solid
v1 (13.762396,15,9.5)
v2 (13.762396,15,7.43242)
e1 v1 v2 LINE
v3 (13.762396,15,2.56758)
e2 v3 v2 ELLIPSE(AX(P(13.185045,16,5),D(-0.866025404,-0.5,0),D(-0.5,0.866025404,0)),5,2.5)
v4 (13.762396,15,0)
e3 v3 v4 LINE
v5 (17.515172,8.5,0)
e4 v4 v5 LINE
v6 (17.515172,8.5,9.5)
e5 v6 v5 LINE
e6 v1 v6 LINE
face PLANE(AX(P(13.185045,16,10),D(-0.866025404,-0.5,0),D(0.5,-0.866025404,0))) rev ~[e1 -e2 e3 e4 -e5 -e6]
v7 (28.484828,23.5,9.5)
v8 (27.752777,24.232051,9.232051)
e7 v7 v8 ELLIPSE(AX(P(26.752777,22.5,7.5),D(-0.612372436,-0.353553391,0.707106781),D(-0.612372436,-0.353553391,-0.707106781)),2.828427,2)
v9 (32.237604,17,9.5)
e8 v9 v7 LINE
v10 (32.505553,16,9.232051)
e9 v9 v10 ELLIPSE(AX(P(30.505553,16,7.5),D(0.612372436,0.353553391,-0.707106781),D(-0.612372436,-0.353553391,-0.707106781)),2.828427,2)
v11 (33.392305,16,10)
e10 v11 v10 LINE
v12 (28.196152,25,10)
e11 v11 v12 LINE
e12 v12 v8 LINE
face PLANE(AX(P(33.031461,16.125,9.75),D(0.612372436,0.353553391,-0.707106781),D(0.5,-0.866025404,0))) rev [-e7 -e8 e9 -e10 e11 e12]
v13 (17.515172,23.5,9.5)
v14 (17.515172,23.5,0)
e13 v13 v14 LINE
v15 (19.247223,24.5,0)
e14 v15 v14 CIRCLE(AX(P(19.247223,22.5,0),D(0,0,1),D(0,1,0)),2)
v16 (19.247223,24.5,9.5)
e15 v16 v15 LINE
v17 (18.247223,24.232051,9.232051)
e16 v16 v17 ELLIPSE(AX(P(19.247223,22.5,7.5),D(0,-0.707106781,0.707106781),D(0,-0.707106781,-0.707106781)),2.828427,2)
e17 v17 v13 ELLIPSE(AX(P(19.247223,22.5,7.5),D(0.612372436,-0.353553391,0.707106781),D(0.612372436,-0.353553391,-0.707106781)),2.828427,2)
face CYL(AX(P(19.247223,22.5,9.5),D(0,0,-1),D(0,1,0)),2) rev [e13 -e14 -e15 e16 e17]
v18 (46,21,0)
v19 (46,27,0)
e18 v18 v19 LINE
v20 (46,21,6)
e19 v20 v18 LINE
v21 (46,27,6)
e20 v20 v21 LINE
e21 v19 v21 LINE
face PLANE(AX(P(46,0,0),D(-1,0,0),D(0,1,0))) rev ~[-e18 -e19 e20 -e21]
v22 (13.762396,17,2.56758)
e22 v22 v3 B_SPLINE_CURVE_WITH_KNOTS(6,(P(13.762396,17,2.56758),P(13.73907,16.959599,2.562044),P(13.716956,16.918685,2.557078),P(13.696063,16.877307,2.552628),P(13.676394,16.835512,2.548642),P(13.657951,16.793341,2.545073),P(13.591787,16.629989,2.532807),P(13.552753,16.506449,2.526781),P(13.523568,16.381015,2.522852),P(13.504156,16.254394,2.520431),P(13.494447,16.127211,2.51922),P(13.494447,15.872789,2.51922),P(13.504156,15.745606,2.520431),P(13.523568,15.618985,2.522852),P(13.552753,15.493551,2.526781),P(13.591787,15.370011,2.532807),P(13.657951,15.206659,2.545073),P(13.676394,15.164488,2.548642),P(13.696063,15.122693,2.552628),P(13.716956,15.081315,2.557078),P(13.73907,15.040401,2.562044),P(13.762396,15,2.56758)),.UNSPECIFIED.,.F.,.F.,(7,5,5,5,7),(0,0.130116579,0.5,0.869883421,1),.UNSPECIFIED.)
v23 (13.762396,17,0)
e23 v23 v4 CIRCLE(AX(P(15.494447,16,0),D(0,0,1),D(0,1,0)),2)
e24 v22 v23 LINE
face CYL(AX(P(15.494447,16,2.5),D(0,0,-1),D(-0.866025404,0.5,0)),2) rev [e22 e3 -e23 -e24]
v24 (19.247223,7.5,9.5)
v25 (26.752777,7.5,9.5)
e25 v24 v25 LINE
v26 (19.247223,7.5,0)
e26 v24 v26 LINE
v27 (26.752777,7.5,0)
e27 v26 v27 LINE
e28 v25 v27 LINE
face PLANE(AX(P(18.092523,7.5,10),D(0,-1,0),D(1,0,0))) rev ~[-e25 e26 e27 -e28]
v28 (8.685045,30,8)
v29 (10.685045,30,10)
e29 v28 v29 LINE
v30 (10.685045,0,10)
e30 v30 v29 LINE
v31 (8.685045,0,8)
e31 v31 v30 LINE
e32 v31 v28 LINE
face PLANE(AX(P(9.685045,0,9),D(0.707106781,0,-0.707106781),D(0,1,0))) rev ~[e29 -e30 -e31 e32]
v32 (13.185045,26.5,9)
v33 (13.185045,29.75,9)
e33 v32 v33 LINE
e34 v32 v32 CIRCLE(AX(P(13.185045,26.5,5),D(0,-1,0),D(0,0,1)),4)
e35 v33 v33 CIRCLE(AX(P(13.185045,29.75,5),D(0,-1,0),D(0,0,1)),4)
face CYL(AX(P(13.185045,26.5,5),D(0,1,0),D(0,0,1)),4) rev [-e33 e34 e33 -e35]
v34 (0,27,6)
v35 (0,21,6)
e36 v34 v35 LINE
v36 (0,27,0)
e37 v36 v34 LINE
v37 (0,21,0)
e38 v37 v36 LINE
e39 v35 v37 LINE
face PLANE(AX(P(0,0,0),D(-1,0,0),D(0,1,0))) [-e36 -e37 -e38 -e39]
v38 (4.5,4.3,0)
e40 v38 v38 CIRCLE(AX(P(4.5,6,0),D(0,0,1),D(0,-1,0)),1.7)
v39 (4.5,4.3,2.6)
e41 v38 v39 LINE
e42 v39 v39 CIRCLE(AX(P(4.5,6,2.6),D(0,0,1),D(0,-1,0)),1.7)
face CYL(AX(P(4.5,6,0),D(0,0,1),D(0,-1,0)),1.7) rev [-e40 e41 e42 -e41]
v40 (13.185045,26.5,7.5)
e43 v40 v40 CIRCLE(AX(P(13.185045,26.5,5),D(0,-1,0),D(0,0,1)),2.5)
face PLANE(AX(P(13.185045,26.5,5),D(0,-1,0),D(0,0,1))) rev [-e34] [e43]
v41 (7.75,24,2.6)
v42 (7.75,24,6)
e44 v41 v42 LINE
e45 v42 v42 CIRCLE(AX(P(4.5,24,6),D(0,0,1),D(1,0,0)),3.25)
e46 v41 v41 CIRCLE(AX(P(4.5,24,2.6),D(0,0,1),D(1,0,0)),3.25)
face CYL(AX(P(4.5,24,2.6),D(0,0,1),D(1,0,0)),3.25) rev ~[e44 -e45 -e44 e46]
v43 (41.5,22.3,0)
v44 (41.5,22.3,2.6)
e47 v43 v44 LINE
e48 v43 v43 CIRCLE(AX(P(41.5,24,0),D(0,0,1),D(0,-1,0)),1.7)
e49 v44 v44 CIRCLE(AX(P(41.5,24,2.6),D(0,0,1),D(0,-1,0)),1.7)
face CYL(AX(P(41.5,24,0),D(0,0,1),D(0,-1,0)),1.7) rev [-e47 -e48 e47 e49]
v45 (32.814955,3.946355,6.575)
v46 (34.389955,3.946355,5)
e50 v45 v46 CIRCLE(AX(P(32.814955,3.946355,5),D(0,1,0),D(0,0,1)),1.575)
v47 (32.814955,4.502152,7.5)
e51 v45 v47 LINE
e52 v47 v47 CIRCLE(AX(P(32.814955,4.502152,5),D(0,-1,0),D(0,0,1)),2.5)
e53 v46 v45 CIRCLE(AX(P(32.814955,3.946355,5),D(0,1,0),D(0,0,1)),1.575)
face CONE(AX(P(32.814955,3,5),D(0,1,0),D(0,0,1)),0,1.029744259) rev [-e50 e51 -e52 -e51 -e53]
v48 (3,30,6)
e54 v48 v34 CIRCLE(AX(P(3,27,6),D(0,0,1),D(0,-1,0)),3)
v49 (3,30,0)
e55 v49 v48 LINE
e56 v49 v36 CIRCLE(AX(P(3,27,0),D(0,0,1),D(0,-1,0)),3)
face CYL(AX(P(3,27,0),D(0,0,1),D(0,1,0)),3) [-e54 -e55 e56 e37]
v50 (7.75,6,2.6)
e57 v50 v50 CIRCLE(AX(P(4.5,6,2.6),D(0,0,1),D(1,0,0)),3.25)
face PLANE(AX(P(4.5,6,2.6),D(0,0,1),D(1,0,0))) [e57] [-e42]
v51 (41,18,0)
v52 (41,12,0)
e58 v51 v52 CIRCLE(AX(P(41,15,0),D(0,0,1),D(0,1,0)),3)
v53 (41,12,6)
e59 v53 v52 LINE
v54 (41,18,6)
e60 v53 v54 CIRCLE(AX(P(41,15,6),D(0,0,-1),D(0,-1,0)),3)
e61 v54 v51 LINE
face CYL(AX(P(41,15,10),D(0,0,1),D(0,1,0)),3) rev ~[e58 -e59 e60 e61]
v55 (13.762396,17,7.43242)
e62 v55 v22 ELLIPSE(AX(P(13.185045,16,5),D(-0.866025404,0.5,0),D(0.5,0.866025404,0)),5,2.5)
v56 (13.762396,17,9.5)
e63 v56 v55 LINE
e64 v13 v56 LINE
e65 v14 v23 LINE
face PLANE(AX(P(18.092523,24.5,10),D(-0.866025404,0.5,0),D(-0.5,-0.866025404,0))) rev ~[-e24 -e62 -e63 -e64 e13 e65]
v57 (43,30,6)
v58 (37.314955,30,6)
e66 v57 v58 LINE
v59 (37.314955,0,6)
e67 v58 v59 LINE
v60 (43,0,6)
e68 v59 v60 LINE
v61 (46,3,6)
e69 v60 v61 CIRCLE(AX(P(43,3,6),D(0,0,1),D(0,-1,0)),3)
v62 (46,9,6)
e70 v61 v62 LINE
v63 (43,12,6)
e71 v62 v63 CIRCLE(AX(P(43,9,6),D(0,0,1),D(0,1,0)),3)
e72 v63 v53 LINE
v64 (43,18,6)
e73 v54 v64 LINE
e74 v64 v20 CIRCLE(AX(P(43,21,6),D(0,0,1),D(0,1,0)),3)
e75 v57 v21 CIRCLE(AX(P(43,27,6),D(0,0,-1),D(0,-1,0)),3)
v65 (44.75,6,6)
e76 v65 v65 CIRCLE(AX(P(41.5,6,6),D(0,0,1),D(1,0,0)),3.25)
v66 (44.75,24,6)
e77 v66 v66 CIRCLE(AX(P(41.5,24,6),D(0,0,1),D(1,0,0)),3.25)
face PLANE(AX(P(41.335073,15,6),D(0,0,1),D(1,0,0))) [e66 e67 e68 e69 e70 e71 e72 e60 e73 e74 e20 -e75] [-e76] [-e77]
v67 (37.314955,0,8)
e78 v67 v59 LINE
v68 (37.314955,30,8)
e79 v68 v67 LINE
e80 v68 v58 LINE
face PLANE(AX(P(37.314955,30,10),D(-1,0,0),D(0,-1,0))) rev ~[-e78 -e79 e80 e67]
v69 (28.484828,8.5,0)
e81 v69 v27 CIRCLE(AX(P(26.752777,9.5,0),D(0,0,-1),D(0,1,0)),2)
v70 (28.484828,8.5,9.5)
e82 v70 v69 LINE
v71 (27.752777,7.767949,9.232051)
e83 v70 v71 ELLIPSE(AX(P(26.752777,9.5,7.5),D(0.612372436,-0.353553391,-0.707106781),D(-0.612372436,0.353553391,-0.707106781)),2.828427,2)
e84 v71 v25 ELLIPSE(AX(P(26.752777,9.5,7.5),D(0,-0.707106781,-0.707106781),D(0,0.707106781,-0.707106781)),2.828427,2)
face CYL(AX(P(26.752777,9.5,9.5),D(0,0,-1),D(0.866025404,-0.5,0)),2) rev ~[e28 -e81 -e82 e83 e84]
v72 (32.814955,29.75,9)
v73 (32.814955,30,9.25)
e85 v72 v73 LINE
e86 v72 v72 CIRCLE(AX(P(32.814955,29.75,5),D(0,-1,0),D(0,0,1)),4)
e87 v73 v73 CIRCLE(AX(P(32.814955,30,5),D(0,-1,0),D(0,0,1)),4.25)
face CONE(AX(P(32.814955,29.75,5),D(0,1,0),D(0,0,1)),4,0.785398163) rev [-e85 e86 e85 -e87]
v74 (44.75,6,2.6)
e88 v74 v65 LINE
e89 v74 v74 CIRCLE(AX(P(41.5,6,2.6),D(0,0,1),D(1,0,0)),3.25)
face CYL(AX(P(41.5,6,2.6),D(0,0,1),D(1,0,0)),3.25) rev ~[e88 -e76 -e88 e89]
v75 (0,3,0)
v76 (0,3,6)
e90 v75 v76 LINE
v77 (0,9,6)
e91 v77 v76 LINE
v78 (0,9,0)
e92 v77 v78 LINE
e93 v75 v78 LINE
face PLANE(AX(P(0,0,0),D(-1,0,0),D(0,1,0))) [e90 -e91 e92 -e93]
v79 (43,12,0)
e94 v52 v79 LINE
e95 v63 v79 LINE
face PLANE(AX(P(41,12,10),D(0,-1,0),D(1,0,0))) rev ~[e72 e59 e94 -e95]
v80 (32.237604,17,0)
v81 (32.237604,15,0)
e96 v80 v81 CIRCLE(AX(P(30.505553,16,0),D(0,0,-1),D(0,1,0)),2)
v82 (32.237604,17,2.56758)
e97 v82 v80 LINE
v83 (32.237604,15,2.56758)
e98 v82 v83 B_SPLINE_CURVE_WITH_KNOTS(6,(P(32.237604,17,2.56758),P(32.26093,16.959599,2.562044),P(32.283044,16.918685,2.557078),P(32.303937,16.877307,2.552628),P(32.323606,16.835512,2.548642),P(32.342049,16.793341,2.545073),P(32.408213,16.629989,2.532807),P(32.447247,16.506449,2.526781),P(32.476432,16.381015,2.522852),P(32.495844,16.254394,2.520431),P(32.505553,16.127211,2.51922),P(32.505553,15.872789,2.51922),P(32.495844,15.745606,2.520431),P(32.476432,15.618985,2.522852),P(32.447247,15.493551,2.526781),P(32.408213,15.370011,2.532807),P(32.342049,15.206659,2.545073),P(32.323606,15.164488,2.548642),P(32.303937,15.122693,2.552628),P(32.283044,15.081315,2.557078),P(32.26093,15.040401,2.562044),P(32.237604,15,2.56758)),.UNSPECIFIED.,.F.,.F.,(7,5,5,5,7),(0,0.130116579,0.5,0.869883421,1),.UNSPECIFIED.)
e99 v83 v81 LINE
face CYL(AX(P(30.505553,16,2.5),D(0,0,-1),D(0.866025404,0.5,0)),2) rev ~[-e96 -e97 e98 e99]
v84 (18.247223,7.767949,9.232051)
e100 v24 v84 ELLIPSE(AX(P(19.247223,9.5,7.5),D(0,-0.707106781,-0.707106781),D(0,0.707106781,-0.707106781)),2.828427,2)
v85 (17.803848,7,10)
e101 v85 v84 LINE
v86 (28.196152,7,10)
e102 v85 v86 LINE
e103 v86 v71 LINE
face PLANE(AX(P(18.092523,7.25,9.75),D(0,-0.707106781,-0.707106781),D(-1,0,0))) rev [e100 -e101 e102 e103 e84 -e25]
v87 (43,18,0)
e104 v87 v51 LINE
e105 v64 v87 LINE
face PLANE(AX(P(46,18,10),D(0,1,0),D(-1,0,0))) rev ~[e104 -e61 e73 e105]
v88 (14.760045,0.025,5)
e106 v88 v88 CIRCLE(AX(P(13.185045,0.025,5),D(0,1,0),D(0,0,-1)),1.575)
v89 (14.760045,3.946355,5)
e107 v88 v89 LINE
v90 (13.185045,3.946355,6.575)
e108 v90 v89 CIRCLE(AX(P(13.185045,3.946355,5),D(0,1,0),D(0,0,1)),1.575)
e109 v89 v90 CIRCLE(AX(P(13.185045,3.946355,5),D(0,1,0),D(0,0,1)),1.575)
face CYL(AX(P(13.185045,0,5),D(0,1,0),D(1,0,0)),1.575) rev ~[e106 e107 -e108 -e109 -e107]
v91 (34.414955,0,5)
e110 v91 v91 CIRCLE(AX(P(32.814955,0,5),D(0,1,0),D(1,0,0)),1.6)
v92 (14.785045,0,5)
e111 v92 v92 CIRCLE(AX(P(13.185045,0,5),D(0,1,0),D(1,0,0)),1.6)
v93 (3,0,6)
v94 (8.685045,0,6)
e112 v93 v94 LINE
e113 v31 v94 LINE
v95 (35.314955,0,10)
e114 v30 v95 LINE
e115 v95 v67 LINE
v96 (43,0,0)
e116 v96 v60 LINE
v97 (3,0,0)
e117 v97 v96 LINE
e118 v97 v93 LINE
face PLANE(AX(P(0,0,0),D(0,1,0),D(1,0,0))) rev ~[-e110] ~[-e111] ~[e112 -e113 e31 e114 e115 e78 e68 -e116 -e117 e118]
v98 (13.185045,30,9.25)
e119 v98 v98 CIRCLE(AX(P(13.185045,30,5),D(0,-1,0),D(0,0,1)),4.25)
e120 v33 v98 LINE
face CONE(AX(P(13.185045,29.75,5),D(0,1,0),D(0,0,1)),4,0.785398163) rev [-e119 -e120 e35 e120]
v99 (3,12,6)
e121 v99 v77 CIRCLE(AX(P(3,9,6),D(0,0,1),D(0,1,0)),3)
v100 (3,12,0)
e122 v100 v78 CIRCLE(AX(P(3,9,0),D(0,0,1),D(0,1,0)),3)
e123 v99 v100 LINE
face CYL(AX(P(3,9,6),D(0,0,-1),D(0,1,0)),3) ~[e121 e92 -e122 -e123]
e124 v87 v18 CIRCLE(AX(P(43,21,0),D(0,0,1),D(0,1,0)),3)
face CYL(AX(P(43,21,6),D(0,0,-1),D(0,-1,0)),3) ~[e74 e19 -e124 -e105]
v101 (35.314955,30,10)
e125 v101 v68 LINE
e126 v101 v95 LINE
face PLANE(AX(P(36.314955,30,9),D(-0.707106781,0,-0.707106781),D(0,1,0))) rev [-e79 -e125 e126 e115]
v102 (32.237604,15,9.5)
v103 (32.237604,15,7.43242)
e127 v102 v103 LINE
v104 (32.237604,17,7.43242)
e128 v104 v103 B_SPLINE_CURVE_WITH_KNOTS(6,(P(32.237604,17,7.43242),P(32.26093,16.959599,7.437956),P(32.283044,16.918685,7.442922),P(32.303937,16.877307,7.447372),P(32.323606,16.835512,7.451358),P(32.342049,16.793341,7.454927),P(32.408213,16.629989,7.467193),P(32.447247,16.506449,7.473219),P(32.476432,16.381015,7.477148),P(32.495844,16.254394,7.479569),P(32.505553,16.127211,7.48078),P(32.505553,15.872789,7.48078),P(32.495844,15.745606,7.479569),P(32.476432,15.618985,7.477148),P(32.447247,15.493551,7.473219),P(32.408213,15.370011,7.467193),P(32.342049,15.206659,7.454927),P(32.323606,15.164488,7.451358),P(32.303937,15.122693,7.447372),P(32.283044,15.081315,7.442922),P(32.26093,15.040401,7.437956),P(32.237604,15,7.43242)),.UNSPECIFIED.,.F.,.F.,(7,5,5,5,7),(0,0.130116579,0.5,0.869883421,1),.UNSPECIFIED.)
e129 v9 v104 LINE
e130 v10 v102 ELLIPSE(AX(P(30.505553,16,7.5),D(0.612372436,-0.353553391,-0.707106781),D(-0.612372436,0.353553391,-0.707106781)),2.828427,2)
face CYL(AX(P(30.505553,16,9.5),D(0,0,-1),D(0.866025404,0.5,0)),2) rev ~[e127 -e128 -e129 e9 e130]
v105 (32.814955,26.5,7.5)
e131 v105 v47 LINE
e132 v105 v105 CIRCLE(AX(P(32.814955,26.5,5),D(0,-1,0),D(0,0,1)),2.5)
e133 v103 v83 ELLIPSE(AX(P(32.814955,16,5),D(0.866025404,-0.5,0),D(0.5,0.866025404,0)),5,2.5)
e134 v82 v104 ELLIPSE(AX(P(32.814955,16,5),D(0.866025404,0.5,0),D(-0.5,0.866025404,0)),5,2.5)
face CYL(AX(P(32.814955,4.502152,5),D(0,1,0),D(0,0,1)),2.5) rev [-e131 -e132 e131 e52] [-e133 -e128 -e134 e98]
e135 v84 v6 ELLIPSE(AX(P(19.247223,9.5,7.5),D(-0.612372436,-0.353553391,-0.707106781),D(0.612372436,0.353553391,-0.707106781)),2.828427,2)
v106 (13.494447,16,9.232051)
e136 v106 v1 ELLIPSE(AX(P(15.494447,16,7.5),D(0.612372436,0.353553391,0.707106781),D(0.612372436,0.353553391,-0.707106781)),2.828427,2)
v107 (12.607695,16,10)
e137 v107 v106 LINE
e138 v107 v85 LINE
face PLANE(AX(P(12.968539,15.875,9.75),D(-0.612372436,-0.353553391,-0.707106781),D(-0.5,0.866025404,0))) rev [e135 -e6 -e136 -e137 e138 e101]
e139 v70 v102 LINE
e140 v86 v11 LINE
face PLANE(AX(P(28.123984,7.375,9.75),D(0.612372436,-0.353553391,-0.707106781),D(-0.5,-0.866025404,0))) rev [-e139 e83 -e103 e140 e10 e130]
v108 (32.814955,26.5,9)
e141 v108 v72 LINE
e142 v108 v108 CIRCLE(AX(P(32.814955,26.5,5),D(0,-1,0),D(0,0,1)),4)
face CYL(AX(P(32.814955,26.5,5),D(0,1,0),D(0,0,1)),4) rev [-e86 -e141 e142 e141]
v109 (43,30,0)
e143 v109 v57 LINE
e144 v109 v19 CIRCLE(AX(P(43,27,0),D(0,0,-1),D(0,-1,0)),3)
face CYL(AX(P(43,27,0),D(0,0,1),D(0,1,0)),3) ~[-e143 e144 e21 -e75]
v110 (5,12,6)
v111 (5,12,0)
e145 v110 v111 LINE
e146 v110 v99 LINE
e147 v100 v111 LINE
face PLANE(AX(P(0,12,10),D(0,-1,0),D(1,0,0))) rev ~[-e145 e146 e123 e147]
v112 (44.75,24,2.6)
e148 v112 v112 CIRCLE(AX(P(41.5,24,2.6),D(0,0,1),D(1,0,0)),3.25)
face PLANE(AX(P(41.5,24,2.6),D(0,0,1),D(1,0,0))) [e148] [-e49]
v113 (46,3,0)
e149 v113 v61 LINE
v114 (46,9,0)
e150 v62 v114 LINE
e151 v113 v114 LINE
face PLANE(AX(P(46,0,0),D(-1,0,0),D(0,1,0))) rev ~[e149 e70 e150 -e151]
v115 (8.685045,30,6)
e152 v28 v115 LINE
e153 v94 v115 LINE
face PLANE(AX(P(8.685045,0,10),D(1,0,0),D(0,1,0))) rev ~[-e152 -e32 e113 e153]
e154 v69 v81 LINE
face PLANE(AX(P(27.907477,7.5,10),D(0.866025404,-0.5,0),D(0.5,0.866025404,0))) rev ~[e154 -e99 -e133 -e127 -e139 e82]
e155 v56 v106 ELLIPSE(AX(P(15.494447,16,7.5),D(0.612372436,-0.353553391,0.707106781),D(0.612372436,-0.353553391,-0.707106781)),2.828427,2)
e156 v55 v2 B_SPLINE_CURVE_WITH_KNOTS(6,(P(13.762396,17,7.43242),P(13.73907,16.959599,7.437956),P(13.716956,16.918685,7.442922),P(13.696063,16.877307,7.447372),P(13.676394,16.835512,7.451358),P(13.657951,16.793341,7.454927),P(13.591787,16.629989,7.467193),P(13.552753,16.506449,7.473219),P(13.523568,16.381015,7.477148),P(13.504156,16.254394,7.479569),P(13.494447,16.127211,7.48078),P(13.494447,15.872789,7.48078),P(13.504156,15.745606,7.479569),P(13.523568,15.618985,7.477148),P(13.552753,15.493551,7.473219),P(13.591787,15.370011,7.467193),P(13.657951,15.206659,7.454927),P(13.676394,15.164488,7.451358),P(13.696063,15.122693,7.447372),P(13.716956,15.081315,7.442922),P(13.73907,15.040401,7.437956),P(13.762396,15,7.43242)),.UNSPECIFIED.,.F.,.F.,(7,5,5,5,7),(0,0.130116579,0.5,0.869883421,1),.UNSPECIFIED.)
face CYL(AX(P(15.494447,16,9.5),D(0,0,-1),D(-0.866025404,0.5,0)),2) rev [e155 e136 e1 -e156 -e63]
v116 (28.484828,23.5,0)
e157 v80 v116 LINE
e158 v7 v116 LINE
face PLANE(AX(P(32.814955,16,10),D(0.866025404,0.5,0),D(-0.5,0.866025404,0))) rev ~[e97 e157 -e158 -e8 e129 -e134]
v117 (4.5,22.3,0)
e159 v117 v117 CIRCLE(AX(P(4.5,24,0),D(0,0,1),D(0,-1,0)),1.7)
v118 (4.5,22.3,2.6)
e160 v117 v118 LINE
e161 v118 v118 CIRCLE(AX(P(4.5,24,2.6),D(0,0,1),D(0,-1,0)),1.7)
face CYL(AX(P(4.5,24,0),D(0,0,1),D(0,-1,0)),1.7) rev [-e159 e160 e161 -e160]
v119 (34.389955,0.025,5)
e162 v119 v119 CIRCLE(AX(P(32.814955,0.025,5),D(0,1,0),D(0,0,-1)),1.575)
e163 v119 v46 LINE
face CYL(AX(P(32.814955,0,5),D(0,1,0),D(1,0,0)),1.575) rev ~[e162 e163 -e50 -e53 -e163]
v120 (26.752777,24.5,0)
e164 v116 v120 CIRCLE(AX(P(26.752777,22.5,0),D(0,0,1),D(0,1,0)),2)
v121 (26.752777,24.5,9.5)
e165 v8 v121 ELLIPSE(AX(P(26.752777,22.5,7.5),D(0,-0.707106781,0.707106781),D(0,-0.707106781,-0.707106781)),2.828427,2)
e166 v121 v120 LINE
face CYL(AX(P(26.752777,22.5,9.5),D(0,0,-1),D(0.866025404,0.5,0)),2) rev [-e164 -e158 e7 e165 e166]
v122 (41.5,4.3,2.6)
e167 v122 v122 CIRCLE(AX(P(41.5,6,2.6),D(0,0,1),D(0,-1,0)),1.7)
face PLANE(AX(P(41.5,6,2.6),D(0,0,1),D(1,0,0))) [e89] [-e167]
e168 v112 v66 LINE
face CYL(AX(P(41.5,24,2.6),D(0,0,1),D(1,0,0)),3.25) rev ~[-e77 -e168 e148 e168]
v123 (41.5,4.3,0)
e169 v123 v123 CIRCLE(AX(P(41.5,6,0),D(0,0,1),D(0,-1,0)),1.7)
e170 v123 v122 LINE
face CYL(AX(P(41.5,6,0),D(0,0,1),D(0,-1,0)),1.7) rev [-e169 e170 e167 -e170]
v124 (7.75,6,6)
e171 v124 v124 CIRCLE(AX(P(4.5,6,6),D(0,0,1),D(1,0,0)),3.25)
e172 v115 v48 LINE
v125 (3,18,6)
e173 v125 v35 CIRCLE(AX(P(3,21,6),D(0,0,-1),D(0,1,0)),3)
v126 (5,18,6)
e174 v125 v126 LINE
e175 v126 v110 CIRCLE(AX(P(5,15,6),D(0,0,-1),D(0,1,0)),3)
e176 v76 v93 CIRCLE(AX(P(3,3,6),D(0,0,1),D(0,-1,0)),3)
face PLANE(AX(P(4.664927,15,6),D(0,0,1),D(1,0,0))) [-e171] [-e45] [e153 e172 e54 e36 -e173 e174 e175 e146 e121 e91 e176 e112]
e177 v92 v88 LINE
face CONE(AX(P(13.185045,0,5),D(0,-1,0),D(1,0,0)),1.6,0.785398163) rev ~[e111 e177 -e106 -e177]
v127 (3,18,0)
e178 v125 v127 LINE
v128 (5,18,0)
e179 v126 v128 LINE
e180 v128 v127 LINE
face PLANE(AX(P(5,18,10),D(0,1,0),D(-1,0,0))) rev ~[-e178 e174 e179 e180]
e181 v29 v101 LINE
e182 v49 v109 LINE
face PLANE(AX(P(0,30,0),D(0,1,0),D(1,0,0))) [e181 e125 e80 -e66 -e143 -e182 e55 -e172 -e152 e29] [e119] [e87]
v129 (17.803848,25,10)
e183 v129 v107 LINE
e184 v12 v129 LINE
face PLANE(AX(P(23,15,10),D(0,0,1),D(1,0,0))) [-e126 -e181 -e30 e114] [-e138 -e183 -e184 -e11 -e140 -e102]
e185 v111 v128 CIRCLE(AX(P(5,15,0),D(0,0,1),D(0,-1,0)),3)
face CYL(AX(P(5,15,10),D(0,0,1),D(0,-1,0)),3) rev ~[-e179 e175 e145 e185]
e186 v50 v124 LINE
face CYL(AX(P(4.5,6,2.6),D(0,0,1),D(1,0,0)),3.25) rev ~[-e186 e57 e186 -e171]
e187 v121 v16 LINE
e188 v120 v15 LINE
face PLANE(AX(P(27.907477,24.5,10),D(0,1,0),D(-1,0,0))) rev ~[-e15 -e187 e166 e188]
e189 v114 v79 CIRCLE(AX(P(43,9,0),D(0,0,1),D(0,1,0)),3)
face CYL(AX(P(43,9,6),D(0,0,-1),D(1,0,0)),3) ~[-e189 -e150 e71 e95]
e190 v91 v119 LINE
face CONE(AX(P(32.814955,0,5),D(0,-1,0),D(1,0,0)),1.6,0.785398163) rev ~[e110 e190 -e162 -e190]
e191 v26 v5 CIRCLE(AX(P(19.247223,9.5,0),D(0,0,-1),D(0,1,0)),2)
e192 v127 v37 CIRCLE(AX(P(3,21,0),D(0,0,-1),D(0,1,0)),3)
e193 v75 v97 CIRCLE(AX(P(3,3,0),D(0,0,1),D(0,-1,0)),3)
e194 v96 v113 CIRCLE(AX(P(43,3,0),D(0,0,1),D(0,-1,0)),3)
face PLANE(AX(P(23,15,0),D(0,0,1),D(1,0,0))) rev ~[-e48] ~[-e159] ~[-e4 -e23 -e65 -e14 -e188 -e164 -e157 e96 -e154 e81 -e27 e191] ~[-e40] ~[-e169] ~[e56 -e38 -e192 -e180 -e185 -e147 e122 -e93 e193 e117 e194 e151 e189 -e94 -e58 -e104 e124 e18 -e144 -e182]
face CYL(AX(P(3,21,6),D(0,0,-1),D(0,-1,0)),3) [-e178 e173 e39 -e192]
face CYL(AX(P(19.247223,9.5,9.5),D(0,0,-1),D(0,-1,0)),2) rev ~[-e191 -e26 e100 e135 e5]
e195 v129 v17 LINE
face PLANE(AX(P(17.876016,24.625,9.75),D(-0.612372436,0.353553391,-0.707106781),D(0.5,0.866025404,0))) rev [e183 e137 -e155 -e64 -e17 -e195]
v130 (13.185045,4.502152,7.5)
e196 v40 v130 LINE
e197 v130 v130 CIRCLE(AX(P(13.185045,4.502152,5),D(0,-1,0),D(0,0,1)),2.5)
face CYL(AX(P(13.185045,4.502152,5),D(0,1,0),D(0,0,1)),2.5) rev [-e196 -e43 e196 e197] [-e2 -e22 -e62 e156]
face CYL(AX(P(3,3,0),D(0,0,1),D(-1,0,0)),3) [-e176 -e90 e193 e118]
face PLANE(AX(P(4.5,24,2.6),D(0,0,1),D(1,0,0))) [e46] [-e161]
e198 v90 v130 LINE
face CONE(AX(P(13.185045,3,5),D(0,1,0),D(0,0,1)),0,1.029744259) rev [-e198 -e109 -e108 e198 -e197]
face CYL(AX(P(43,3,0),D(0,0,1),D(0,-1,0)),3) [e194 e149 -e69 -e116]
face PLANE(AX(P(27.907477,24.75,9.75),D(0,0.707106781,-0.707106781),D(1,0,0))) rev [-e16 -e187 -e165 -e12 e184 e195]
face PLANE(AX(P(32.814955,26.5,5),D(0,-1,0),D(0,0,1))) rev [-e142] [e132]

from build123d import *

# Parameters (mm, degrees)
SKETCH1_W                                           = 46
SKETCH1_H                                           = 30
BOSS_EXTRUDE1_DEPTH                                 = 10
CUT_EXTRUDE1_DEPTH                                  = 56.821142948
CBORE_FOR_M5_HEX_SOCKET_HEAD_CAP_SCR_2_COUNT        = 2
CBORE_FOR_M5_HEX_SOCKET_HEAD_CAP_SCR_2_PITCH        = 19.629909152
CBORE_FOR_M3_HEX_SOCKET_HEAD_CAP_SCR_2_COUNT        = 2
CBORE_FOR_M3_HEX_SOCKET_HEAD_CAP_SCR_2_PITCH        = 37
CBORE_FOR_M3_HEX_SOCKET_HEAD_CAP_SCR_3_COUNT        = 2
CBORE_FOR_M3_HEX_SOCKET_HEAD_CAP_SCR_3_PITCH        = 41.146081223
CBORE_FOR_M3_HEX_SOCKET_HEAD_CAP_SCR_4_COUNT        = 2
CBORE_FOR_M3_HEX_SOCKET_HEAD_CAP_SCR_4_PITCH        = 18
TAP_DRILL_FOR_M3_HELICOIL1_D                        = 3.15
TAP_DRILL_FOR_M3_HELICOIL1_DEPTH                    = 24.053644525
TAP_DRILL_FOR_M3_HELICOIL1_CSINK_D                  = 3.2
TAP_DRILL_FOR_M3_HELICOIL1_CSINK_ANGLE              = 90
TAP_DRILL_FOR_M3_HELICOIL1_TIP                      = 0.946355475
CUT_EXTRUDE2_DEPTH                                  = 56.821142948
CUT_EXTRUDE3_DEPTH                                  = 4
CBORE_FOR_M3_HEX_SOCKET_HEAD_CAP_SCREW2_D           = 3.4
CBORE_FOR_M3_HEX_SOCKET_HEAD_CAP_SCREW2_CBORE_D     = 6.5
CBORE_FOR_M3_HEX_SOCKET_HEAD_CAP_SCREW2_CBORE_DEPTH = 3.4
CHAMFER1_SIZE                                       = 2
CHAMFER2_SIZE                                       = 0.5
FILLET2_R                                           = 2
FILLET1_R                                           = 3


with BuildPart() as part:
    # Sketch1 → Boss-Extrude1 (new body)
    with BuildSketch(Plane.XY):
        with Locations((23, 15)):
            Rectangle(SKETCH1_W, SKETCH1_H)
    extrude(amount=BOSS_EXTRUDE1_DEPTH)

    # Sketch2 → Cut-Extrude1 (cut, through all)
    with BuildSketch(Plane.XY.offset(10)):
        Polygon((27.907477288, 24.5), (18.092522712, 24.5), (13.185045424, 16), (18.092522712, 7.5), (27.907477288, 7.5), (32.814954576, 16), align=None)
    extrude(amount=-CUT_EXTRUDE1_DEPTH, mode=Mode.SUBTRACT)

    # Sketch4 → CBORE for M5 Hex Socket Head Cap Screw1 (revolve, cut)
    with BuildSketch(Plane(origin=(13.185045424, 30, 5), x_dir=(0, 0, 1), z_dir=(1, 0, 0))):
        Polygon((0, 0), (0, 27), (2.5, 25.497848452), (2.5, 3.5), (4, 3.5), (4, 0.25), (4.25, 0), align=None)
    cbore_for_m5_hex_socket_head_cap_screw1 = revolve(axis=Axis((13.185045424, 36.35, 5), (0, -1, 0)), mode=Mode.SUBTRACT)

    # CBORE for M5 Hex Socket Head Cap Scr 2: CBORE for M5 Hex Socket Head Cap Screw1 ×2
    with Locations(*[(i * CBORE_FOR_M5_HEX_SOCKET_HEAD_CAP_SCR_2_PITCH, 0, 0) for i in range(1, CBORE_FOR_M5_HEX_SOCKET_HEAD_CAP_SCR_2_COUNT)]):
        add(cbore_for_m5_hex_socket_head_cap_screw1, mode=Mode.SUBTRACT)

    # Sketch6 → CBORE for M3 Hex Socket Head Cap Screw1 (revolve, cut)
    with BuildSketch(Plane(origin=(4.5, 24, 10), x_dir=(0, -1, 0), z_dir=(1, 0, 0))):
        Polygon((0, 0), (0, 10), (1.7, 10), (1.7, 3.4), (3.25, 3.4), (3.25, 0.025), (3.275, 0), align=None)
    cbore_for_m3_hex_socket_head_cap_screw1 = revolve(axis=Axis((4.5, 24, 16.35), (0, 0, -1)), mode=Mode.SUBTRACT)

    # CBORE for M3 Hex Socket Head Cap Scr 2: CBORE for M3 Hex Socket Head Cap Screw1 ×2
    with Locations(*[(i * CBORE_FOR_M3_HEX_SOCKET_HEAD_CAP_SCR_2_PITCH, 0, 0) for i in range(1, CBORE_FOR_M3_HEX_SOCKET_HEAD_CAP_SCR_2_COUNT)]):
        add(cbore_for_m3_hex_socket_head_cap_screw1, mode=Mode.SUBTRACT)

    # CBORE for M3 Hex Socket Head Cap Scr 3: CBORE for M3 Hex Socket Head Cap Screw1 ×2
    with Locations(*[Vector(0.8992350887457975, -0.4374657188493034, 0) * (i * CBORE_FOR_M3_HEX_SOCKET_HEAD_CAP_SCR_3_PITCH) for i in range(1, CBORE_FOR_M3_HEX_SOCKET_HEAD_CAP_SCR_3_COUNT)]):
        add(cbore_for_m3_hex_socket_head_cap_screw1, mode=Mode.SUBTRACT)

    # CBORE for M3 Hex Socket Head Cap Scr 4: CBORE for M3 Hex Socket Head Cap Screw1 ×2
    with Locations(*[(0, -i * CBORE_FOR_M3_HEX_SOCKET_HEAD_CAP_SCR_4_PITCH, 0) for i in range(1, CBORE_FOR_M3_HEX_SOCKET_HEAD_CAP_SCR_4_COUNT)]):
        add(cbore_for_m3_hex_socket_head_cap_screw1, mode=Mode.SUBTRACT)

    # Tap Drill for M3 Helicoil1
    with Locations(Plane(origin=(0, 0, 0), x_dir=(-1, 0, 0), z_dir=(0, -1, 0))):
        with Locations((-13.185045424, -5), (-32.814954576, -5)):
            CounterSinkHole(TAP_DRILL_FOR_M3_HELICOIL1_D / 2, TAP_DRILL_FOR_M3_HELICOIL1_CSINK_D / 2, depth=TAP_DRILL_FOR_M3_HELICOIL1_DEPTH, counter_sink_angle=TAP_DRILL_FOR_M3_HELICOIL1_CSINK_ANGLE)
            with Locations((0, 0, -(TAP_DRILL_FOR_M3_HELICOIL1_DEPTH + TAP_DRILL_FOR_M3_HELICOIL1_TIP / 2))):  # 118° drill point
                Cone(0, TAP_DRILL_FOR_M3_HELICOIL1_D / 2, TAP_DRILL_FOR_M3_HELICOIL1_TIP, mode=Mode.SUBTRACT)

    # Sketch11 → Cut-Extrude2 (cut, through all)
    with BuildSketch(Plane.XY.offset(10)):
        with BuildLine():
            ThreePointArc((5, 12), (8, 15), (5, 18))
            Line((5, 18), (0, 18))
            Line((0, 18), (0, 12))
            Line((0, 12), (5, 12))
        make_face()
        with BuildLine():
            Line((46, 12), (46, 18))
            Line((46, 18), (41, 18))
            ThreePointArc((41, 18), (38, 15), (41, 12))
            Line((41, 12), (46, 12))
        make_face()
    extrude(amount=-CUT_EXTRUDE2_DEPTH, mode=Mode.SUBTRACT)

    # Sketch13 → Cut-Extrude3 (cut)
    with BuildSketch(Plane.XY.offset(10)):
        with BuildLine():
            Line((8.685045424, 0), (8.685045424, 30))
            Line((8.685045424, 30), (0, 30))
            Line((0, 30), (0, 18))
            Line((0, 18), (5, 18))
            ThreePointArc((5, 18), (8, 15), (5, 12))
            Line((5, 12), (0, 12))
            Line((0, 12), (0, 0))
            Line((0, 0), (8.685045424, 0))
        make_face()
        with BuildLine():
            Line((46, 30), (37.314954576, 30))
            Line((37.314954576, 30), (37.314954576, 0))
            Line((37.314954576, 0), (46, 0))
            Line((46, 0), (46, 12))
            Line((46, 12), (41, 12))
            ThreePointArc((41, 12), (38, 15), (41, 18))
            Line((41, 18), (46, 18))
            Line((46, 18), (46, 30))
        make_face()
    extrude(amount=-CUT_EXTRUDE3_DEPTH, mode=Mode.SUBTRACT)

    # CBORE for M3 Hex Socket Head Cap Screw2 (through all)
    with Locations(Plane.XY.offset(6)):
        with Locations((4.5, 24), (4.5, 6), (41.5, 24), (41.5, 6)):
            CounterBoreHole(CBORE_FOR_M3_HEX_SOCKET_HEAD_CAP_SCREW2_D / 2, CBORE_FOR_M3_HEX_SOCKET_HEAD_CAP_SCREW2_CBORE_D / 2, CBORE_FOR_M3_HEX_SOCKET_HEAD_CAP_SCREW2_CBORE_DEPTH)

    # Chamfer1
    chamfer1_edges = [part.edges().sort_by_distance(p)[0] for p in [
        (8.685045424, 15, 10),
        (37.314954576, 15, 10),
    ]]
    chamfer(chamfer1_edges, length=CHAMFER1_SIZE)

    # Chamfer2
    chamfer2_edges = [part.edges().sort_by_distance(p)[0] for p in [
        (30.361215932, 20.25, 10),
        (23, 24.5, 10),
        (15.638784068, 20.25, 10),
        (15.638784068, 11.75, 10),
        (23, 7.5, 10),
        (30.361215932, 11.75, 10),
    ]]
    chamfer(chamfer2_edges, length=CHAMFER2_SIZE)

    # Fillet2
    fillet2_edges = [part.edges().sort_by_distance(p)[0] for p in [
        (32.814954576, 16, 8.5),
        (32.814954576, 16, 1.25),
        (27.907477288, 7.5, 4.75),
        (18.092522712, 7.5, 4.75),
        (13.185045424, 16, 1.25),
        (13.185045424, 16, 8.5),
        (18.092522712, 24.5, 4.75),
        (27.907477288, 24.5, 4.75),
    ]]
    fillet(fillet2_edges, radius=FILLET2_R)

    # Fillet1
    fillet1_edges = [part.edges().sort_by_distance(p)[0] for p in [
        (0, 12, 3),
        (0, 18, 3),
        (46, 18, 3),
        (46, 12, 3),
        (0, 30, 3),
        (46, 30, 3),
        (46, 0, 3),
        (0, 0, 3),
    ]]
    fillet(fillet1_edges, radius=FILLET1_R)


solid = part.part
